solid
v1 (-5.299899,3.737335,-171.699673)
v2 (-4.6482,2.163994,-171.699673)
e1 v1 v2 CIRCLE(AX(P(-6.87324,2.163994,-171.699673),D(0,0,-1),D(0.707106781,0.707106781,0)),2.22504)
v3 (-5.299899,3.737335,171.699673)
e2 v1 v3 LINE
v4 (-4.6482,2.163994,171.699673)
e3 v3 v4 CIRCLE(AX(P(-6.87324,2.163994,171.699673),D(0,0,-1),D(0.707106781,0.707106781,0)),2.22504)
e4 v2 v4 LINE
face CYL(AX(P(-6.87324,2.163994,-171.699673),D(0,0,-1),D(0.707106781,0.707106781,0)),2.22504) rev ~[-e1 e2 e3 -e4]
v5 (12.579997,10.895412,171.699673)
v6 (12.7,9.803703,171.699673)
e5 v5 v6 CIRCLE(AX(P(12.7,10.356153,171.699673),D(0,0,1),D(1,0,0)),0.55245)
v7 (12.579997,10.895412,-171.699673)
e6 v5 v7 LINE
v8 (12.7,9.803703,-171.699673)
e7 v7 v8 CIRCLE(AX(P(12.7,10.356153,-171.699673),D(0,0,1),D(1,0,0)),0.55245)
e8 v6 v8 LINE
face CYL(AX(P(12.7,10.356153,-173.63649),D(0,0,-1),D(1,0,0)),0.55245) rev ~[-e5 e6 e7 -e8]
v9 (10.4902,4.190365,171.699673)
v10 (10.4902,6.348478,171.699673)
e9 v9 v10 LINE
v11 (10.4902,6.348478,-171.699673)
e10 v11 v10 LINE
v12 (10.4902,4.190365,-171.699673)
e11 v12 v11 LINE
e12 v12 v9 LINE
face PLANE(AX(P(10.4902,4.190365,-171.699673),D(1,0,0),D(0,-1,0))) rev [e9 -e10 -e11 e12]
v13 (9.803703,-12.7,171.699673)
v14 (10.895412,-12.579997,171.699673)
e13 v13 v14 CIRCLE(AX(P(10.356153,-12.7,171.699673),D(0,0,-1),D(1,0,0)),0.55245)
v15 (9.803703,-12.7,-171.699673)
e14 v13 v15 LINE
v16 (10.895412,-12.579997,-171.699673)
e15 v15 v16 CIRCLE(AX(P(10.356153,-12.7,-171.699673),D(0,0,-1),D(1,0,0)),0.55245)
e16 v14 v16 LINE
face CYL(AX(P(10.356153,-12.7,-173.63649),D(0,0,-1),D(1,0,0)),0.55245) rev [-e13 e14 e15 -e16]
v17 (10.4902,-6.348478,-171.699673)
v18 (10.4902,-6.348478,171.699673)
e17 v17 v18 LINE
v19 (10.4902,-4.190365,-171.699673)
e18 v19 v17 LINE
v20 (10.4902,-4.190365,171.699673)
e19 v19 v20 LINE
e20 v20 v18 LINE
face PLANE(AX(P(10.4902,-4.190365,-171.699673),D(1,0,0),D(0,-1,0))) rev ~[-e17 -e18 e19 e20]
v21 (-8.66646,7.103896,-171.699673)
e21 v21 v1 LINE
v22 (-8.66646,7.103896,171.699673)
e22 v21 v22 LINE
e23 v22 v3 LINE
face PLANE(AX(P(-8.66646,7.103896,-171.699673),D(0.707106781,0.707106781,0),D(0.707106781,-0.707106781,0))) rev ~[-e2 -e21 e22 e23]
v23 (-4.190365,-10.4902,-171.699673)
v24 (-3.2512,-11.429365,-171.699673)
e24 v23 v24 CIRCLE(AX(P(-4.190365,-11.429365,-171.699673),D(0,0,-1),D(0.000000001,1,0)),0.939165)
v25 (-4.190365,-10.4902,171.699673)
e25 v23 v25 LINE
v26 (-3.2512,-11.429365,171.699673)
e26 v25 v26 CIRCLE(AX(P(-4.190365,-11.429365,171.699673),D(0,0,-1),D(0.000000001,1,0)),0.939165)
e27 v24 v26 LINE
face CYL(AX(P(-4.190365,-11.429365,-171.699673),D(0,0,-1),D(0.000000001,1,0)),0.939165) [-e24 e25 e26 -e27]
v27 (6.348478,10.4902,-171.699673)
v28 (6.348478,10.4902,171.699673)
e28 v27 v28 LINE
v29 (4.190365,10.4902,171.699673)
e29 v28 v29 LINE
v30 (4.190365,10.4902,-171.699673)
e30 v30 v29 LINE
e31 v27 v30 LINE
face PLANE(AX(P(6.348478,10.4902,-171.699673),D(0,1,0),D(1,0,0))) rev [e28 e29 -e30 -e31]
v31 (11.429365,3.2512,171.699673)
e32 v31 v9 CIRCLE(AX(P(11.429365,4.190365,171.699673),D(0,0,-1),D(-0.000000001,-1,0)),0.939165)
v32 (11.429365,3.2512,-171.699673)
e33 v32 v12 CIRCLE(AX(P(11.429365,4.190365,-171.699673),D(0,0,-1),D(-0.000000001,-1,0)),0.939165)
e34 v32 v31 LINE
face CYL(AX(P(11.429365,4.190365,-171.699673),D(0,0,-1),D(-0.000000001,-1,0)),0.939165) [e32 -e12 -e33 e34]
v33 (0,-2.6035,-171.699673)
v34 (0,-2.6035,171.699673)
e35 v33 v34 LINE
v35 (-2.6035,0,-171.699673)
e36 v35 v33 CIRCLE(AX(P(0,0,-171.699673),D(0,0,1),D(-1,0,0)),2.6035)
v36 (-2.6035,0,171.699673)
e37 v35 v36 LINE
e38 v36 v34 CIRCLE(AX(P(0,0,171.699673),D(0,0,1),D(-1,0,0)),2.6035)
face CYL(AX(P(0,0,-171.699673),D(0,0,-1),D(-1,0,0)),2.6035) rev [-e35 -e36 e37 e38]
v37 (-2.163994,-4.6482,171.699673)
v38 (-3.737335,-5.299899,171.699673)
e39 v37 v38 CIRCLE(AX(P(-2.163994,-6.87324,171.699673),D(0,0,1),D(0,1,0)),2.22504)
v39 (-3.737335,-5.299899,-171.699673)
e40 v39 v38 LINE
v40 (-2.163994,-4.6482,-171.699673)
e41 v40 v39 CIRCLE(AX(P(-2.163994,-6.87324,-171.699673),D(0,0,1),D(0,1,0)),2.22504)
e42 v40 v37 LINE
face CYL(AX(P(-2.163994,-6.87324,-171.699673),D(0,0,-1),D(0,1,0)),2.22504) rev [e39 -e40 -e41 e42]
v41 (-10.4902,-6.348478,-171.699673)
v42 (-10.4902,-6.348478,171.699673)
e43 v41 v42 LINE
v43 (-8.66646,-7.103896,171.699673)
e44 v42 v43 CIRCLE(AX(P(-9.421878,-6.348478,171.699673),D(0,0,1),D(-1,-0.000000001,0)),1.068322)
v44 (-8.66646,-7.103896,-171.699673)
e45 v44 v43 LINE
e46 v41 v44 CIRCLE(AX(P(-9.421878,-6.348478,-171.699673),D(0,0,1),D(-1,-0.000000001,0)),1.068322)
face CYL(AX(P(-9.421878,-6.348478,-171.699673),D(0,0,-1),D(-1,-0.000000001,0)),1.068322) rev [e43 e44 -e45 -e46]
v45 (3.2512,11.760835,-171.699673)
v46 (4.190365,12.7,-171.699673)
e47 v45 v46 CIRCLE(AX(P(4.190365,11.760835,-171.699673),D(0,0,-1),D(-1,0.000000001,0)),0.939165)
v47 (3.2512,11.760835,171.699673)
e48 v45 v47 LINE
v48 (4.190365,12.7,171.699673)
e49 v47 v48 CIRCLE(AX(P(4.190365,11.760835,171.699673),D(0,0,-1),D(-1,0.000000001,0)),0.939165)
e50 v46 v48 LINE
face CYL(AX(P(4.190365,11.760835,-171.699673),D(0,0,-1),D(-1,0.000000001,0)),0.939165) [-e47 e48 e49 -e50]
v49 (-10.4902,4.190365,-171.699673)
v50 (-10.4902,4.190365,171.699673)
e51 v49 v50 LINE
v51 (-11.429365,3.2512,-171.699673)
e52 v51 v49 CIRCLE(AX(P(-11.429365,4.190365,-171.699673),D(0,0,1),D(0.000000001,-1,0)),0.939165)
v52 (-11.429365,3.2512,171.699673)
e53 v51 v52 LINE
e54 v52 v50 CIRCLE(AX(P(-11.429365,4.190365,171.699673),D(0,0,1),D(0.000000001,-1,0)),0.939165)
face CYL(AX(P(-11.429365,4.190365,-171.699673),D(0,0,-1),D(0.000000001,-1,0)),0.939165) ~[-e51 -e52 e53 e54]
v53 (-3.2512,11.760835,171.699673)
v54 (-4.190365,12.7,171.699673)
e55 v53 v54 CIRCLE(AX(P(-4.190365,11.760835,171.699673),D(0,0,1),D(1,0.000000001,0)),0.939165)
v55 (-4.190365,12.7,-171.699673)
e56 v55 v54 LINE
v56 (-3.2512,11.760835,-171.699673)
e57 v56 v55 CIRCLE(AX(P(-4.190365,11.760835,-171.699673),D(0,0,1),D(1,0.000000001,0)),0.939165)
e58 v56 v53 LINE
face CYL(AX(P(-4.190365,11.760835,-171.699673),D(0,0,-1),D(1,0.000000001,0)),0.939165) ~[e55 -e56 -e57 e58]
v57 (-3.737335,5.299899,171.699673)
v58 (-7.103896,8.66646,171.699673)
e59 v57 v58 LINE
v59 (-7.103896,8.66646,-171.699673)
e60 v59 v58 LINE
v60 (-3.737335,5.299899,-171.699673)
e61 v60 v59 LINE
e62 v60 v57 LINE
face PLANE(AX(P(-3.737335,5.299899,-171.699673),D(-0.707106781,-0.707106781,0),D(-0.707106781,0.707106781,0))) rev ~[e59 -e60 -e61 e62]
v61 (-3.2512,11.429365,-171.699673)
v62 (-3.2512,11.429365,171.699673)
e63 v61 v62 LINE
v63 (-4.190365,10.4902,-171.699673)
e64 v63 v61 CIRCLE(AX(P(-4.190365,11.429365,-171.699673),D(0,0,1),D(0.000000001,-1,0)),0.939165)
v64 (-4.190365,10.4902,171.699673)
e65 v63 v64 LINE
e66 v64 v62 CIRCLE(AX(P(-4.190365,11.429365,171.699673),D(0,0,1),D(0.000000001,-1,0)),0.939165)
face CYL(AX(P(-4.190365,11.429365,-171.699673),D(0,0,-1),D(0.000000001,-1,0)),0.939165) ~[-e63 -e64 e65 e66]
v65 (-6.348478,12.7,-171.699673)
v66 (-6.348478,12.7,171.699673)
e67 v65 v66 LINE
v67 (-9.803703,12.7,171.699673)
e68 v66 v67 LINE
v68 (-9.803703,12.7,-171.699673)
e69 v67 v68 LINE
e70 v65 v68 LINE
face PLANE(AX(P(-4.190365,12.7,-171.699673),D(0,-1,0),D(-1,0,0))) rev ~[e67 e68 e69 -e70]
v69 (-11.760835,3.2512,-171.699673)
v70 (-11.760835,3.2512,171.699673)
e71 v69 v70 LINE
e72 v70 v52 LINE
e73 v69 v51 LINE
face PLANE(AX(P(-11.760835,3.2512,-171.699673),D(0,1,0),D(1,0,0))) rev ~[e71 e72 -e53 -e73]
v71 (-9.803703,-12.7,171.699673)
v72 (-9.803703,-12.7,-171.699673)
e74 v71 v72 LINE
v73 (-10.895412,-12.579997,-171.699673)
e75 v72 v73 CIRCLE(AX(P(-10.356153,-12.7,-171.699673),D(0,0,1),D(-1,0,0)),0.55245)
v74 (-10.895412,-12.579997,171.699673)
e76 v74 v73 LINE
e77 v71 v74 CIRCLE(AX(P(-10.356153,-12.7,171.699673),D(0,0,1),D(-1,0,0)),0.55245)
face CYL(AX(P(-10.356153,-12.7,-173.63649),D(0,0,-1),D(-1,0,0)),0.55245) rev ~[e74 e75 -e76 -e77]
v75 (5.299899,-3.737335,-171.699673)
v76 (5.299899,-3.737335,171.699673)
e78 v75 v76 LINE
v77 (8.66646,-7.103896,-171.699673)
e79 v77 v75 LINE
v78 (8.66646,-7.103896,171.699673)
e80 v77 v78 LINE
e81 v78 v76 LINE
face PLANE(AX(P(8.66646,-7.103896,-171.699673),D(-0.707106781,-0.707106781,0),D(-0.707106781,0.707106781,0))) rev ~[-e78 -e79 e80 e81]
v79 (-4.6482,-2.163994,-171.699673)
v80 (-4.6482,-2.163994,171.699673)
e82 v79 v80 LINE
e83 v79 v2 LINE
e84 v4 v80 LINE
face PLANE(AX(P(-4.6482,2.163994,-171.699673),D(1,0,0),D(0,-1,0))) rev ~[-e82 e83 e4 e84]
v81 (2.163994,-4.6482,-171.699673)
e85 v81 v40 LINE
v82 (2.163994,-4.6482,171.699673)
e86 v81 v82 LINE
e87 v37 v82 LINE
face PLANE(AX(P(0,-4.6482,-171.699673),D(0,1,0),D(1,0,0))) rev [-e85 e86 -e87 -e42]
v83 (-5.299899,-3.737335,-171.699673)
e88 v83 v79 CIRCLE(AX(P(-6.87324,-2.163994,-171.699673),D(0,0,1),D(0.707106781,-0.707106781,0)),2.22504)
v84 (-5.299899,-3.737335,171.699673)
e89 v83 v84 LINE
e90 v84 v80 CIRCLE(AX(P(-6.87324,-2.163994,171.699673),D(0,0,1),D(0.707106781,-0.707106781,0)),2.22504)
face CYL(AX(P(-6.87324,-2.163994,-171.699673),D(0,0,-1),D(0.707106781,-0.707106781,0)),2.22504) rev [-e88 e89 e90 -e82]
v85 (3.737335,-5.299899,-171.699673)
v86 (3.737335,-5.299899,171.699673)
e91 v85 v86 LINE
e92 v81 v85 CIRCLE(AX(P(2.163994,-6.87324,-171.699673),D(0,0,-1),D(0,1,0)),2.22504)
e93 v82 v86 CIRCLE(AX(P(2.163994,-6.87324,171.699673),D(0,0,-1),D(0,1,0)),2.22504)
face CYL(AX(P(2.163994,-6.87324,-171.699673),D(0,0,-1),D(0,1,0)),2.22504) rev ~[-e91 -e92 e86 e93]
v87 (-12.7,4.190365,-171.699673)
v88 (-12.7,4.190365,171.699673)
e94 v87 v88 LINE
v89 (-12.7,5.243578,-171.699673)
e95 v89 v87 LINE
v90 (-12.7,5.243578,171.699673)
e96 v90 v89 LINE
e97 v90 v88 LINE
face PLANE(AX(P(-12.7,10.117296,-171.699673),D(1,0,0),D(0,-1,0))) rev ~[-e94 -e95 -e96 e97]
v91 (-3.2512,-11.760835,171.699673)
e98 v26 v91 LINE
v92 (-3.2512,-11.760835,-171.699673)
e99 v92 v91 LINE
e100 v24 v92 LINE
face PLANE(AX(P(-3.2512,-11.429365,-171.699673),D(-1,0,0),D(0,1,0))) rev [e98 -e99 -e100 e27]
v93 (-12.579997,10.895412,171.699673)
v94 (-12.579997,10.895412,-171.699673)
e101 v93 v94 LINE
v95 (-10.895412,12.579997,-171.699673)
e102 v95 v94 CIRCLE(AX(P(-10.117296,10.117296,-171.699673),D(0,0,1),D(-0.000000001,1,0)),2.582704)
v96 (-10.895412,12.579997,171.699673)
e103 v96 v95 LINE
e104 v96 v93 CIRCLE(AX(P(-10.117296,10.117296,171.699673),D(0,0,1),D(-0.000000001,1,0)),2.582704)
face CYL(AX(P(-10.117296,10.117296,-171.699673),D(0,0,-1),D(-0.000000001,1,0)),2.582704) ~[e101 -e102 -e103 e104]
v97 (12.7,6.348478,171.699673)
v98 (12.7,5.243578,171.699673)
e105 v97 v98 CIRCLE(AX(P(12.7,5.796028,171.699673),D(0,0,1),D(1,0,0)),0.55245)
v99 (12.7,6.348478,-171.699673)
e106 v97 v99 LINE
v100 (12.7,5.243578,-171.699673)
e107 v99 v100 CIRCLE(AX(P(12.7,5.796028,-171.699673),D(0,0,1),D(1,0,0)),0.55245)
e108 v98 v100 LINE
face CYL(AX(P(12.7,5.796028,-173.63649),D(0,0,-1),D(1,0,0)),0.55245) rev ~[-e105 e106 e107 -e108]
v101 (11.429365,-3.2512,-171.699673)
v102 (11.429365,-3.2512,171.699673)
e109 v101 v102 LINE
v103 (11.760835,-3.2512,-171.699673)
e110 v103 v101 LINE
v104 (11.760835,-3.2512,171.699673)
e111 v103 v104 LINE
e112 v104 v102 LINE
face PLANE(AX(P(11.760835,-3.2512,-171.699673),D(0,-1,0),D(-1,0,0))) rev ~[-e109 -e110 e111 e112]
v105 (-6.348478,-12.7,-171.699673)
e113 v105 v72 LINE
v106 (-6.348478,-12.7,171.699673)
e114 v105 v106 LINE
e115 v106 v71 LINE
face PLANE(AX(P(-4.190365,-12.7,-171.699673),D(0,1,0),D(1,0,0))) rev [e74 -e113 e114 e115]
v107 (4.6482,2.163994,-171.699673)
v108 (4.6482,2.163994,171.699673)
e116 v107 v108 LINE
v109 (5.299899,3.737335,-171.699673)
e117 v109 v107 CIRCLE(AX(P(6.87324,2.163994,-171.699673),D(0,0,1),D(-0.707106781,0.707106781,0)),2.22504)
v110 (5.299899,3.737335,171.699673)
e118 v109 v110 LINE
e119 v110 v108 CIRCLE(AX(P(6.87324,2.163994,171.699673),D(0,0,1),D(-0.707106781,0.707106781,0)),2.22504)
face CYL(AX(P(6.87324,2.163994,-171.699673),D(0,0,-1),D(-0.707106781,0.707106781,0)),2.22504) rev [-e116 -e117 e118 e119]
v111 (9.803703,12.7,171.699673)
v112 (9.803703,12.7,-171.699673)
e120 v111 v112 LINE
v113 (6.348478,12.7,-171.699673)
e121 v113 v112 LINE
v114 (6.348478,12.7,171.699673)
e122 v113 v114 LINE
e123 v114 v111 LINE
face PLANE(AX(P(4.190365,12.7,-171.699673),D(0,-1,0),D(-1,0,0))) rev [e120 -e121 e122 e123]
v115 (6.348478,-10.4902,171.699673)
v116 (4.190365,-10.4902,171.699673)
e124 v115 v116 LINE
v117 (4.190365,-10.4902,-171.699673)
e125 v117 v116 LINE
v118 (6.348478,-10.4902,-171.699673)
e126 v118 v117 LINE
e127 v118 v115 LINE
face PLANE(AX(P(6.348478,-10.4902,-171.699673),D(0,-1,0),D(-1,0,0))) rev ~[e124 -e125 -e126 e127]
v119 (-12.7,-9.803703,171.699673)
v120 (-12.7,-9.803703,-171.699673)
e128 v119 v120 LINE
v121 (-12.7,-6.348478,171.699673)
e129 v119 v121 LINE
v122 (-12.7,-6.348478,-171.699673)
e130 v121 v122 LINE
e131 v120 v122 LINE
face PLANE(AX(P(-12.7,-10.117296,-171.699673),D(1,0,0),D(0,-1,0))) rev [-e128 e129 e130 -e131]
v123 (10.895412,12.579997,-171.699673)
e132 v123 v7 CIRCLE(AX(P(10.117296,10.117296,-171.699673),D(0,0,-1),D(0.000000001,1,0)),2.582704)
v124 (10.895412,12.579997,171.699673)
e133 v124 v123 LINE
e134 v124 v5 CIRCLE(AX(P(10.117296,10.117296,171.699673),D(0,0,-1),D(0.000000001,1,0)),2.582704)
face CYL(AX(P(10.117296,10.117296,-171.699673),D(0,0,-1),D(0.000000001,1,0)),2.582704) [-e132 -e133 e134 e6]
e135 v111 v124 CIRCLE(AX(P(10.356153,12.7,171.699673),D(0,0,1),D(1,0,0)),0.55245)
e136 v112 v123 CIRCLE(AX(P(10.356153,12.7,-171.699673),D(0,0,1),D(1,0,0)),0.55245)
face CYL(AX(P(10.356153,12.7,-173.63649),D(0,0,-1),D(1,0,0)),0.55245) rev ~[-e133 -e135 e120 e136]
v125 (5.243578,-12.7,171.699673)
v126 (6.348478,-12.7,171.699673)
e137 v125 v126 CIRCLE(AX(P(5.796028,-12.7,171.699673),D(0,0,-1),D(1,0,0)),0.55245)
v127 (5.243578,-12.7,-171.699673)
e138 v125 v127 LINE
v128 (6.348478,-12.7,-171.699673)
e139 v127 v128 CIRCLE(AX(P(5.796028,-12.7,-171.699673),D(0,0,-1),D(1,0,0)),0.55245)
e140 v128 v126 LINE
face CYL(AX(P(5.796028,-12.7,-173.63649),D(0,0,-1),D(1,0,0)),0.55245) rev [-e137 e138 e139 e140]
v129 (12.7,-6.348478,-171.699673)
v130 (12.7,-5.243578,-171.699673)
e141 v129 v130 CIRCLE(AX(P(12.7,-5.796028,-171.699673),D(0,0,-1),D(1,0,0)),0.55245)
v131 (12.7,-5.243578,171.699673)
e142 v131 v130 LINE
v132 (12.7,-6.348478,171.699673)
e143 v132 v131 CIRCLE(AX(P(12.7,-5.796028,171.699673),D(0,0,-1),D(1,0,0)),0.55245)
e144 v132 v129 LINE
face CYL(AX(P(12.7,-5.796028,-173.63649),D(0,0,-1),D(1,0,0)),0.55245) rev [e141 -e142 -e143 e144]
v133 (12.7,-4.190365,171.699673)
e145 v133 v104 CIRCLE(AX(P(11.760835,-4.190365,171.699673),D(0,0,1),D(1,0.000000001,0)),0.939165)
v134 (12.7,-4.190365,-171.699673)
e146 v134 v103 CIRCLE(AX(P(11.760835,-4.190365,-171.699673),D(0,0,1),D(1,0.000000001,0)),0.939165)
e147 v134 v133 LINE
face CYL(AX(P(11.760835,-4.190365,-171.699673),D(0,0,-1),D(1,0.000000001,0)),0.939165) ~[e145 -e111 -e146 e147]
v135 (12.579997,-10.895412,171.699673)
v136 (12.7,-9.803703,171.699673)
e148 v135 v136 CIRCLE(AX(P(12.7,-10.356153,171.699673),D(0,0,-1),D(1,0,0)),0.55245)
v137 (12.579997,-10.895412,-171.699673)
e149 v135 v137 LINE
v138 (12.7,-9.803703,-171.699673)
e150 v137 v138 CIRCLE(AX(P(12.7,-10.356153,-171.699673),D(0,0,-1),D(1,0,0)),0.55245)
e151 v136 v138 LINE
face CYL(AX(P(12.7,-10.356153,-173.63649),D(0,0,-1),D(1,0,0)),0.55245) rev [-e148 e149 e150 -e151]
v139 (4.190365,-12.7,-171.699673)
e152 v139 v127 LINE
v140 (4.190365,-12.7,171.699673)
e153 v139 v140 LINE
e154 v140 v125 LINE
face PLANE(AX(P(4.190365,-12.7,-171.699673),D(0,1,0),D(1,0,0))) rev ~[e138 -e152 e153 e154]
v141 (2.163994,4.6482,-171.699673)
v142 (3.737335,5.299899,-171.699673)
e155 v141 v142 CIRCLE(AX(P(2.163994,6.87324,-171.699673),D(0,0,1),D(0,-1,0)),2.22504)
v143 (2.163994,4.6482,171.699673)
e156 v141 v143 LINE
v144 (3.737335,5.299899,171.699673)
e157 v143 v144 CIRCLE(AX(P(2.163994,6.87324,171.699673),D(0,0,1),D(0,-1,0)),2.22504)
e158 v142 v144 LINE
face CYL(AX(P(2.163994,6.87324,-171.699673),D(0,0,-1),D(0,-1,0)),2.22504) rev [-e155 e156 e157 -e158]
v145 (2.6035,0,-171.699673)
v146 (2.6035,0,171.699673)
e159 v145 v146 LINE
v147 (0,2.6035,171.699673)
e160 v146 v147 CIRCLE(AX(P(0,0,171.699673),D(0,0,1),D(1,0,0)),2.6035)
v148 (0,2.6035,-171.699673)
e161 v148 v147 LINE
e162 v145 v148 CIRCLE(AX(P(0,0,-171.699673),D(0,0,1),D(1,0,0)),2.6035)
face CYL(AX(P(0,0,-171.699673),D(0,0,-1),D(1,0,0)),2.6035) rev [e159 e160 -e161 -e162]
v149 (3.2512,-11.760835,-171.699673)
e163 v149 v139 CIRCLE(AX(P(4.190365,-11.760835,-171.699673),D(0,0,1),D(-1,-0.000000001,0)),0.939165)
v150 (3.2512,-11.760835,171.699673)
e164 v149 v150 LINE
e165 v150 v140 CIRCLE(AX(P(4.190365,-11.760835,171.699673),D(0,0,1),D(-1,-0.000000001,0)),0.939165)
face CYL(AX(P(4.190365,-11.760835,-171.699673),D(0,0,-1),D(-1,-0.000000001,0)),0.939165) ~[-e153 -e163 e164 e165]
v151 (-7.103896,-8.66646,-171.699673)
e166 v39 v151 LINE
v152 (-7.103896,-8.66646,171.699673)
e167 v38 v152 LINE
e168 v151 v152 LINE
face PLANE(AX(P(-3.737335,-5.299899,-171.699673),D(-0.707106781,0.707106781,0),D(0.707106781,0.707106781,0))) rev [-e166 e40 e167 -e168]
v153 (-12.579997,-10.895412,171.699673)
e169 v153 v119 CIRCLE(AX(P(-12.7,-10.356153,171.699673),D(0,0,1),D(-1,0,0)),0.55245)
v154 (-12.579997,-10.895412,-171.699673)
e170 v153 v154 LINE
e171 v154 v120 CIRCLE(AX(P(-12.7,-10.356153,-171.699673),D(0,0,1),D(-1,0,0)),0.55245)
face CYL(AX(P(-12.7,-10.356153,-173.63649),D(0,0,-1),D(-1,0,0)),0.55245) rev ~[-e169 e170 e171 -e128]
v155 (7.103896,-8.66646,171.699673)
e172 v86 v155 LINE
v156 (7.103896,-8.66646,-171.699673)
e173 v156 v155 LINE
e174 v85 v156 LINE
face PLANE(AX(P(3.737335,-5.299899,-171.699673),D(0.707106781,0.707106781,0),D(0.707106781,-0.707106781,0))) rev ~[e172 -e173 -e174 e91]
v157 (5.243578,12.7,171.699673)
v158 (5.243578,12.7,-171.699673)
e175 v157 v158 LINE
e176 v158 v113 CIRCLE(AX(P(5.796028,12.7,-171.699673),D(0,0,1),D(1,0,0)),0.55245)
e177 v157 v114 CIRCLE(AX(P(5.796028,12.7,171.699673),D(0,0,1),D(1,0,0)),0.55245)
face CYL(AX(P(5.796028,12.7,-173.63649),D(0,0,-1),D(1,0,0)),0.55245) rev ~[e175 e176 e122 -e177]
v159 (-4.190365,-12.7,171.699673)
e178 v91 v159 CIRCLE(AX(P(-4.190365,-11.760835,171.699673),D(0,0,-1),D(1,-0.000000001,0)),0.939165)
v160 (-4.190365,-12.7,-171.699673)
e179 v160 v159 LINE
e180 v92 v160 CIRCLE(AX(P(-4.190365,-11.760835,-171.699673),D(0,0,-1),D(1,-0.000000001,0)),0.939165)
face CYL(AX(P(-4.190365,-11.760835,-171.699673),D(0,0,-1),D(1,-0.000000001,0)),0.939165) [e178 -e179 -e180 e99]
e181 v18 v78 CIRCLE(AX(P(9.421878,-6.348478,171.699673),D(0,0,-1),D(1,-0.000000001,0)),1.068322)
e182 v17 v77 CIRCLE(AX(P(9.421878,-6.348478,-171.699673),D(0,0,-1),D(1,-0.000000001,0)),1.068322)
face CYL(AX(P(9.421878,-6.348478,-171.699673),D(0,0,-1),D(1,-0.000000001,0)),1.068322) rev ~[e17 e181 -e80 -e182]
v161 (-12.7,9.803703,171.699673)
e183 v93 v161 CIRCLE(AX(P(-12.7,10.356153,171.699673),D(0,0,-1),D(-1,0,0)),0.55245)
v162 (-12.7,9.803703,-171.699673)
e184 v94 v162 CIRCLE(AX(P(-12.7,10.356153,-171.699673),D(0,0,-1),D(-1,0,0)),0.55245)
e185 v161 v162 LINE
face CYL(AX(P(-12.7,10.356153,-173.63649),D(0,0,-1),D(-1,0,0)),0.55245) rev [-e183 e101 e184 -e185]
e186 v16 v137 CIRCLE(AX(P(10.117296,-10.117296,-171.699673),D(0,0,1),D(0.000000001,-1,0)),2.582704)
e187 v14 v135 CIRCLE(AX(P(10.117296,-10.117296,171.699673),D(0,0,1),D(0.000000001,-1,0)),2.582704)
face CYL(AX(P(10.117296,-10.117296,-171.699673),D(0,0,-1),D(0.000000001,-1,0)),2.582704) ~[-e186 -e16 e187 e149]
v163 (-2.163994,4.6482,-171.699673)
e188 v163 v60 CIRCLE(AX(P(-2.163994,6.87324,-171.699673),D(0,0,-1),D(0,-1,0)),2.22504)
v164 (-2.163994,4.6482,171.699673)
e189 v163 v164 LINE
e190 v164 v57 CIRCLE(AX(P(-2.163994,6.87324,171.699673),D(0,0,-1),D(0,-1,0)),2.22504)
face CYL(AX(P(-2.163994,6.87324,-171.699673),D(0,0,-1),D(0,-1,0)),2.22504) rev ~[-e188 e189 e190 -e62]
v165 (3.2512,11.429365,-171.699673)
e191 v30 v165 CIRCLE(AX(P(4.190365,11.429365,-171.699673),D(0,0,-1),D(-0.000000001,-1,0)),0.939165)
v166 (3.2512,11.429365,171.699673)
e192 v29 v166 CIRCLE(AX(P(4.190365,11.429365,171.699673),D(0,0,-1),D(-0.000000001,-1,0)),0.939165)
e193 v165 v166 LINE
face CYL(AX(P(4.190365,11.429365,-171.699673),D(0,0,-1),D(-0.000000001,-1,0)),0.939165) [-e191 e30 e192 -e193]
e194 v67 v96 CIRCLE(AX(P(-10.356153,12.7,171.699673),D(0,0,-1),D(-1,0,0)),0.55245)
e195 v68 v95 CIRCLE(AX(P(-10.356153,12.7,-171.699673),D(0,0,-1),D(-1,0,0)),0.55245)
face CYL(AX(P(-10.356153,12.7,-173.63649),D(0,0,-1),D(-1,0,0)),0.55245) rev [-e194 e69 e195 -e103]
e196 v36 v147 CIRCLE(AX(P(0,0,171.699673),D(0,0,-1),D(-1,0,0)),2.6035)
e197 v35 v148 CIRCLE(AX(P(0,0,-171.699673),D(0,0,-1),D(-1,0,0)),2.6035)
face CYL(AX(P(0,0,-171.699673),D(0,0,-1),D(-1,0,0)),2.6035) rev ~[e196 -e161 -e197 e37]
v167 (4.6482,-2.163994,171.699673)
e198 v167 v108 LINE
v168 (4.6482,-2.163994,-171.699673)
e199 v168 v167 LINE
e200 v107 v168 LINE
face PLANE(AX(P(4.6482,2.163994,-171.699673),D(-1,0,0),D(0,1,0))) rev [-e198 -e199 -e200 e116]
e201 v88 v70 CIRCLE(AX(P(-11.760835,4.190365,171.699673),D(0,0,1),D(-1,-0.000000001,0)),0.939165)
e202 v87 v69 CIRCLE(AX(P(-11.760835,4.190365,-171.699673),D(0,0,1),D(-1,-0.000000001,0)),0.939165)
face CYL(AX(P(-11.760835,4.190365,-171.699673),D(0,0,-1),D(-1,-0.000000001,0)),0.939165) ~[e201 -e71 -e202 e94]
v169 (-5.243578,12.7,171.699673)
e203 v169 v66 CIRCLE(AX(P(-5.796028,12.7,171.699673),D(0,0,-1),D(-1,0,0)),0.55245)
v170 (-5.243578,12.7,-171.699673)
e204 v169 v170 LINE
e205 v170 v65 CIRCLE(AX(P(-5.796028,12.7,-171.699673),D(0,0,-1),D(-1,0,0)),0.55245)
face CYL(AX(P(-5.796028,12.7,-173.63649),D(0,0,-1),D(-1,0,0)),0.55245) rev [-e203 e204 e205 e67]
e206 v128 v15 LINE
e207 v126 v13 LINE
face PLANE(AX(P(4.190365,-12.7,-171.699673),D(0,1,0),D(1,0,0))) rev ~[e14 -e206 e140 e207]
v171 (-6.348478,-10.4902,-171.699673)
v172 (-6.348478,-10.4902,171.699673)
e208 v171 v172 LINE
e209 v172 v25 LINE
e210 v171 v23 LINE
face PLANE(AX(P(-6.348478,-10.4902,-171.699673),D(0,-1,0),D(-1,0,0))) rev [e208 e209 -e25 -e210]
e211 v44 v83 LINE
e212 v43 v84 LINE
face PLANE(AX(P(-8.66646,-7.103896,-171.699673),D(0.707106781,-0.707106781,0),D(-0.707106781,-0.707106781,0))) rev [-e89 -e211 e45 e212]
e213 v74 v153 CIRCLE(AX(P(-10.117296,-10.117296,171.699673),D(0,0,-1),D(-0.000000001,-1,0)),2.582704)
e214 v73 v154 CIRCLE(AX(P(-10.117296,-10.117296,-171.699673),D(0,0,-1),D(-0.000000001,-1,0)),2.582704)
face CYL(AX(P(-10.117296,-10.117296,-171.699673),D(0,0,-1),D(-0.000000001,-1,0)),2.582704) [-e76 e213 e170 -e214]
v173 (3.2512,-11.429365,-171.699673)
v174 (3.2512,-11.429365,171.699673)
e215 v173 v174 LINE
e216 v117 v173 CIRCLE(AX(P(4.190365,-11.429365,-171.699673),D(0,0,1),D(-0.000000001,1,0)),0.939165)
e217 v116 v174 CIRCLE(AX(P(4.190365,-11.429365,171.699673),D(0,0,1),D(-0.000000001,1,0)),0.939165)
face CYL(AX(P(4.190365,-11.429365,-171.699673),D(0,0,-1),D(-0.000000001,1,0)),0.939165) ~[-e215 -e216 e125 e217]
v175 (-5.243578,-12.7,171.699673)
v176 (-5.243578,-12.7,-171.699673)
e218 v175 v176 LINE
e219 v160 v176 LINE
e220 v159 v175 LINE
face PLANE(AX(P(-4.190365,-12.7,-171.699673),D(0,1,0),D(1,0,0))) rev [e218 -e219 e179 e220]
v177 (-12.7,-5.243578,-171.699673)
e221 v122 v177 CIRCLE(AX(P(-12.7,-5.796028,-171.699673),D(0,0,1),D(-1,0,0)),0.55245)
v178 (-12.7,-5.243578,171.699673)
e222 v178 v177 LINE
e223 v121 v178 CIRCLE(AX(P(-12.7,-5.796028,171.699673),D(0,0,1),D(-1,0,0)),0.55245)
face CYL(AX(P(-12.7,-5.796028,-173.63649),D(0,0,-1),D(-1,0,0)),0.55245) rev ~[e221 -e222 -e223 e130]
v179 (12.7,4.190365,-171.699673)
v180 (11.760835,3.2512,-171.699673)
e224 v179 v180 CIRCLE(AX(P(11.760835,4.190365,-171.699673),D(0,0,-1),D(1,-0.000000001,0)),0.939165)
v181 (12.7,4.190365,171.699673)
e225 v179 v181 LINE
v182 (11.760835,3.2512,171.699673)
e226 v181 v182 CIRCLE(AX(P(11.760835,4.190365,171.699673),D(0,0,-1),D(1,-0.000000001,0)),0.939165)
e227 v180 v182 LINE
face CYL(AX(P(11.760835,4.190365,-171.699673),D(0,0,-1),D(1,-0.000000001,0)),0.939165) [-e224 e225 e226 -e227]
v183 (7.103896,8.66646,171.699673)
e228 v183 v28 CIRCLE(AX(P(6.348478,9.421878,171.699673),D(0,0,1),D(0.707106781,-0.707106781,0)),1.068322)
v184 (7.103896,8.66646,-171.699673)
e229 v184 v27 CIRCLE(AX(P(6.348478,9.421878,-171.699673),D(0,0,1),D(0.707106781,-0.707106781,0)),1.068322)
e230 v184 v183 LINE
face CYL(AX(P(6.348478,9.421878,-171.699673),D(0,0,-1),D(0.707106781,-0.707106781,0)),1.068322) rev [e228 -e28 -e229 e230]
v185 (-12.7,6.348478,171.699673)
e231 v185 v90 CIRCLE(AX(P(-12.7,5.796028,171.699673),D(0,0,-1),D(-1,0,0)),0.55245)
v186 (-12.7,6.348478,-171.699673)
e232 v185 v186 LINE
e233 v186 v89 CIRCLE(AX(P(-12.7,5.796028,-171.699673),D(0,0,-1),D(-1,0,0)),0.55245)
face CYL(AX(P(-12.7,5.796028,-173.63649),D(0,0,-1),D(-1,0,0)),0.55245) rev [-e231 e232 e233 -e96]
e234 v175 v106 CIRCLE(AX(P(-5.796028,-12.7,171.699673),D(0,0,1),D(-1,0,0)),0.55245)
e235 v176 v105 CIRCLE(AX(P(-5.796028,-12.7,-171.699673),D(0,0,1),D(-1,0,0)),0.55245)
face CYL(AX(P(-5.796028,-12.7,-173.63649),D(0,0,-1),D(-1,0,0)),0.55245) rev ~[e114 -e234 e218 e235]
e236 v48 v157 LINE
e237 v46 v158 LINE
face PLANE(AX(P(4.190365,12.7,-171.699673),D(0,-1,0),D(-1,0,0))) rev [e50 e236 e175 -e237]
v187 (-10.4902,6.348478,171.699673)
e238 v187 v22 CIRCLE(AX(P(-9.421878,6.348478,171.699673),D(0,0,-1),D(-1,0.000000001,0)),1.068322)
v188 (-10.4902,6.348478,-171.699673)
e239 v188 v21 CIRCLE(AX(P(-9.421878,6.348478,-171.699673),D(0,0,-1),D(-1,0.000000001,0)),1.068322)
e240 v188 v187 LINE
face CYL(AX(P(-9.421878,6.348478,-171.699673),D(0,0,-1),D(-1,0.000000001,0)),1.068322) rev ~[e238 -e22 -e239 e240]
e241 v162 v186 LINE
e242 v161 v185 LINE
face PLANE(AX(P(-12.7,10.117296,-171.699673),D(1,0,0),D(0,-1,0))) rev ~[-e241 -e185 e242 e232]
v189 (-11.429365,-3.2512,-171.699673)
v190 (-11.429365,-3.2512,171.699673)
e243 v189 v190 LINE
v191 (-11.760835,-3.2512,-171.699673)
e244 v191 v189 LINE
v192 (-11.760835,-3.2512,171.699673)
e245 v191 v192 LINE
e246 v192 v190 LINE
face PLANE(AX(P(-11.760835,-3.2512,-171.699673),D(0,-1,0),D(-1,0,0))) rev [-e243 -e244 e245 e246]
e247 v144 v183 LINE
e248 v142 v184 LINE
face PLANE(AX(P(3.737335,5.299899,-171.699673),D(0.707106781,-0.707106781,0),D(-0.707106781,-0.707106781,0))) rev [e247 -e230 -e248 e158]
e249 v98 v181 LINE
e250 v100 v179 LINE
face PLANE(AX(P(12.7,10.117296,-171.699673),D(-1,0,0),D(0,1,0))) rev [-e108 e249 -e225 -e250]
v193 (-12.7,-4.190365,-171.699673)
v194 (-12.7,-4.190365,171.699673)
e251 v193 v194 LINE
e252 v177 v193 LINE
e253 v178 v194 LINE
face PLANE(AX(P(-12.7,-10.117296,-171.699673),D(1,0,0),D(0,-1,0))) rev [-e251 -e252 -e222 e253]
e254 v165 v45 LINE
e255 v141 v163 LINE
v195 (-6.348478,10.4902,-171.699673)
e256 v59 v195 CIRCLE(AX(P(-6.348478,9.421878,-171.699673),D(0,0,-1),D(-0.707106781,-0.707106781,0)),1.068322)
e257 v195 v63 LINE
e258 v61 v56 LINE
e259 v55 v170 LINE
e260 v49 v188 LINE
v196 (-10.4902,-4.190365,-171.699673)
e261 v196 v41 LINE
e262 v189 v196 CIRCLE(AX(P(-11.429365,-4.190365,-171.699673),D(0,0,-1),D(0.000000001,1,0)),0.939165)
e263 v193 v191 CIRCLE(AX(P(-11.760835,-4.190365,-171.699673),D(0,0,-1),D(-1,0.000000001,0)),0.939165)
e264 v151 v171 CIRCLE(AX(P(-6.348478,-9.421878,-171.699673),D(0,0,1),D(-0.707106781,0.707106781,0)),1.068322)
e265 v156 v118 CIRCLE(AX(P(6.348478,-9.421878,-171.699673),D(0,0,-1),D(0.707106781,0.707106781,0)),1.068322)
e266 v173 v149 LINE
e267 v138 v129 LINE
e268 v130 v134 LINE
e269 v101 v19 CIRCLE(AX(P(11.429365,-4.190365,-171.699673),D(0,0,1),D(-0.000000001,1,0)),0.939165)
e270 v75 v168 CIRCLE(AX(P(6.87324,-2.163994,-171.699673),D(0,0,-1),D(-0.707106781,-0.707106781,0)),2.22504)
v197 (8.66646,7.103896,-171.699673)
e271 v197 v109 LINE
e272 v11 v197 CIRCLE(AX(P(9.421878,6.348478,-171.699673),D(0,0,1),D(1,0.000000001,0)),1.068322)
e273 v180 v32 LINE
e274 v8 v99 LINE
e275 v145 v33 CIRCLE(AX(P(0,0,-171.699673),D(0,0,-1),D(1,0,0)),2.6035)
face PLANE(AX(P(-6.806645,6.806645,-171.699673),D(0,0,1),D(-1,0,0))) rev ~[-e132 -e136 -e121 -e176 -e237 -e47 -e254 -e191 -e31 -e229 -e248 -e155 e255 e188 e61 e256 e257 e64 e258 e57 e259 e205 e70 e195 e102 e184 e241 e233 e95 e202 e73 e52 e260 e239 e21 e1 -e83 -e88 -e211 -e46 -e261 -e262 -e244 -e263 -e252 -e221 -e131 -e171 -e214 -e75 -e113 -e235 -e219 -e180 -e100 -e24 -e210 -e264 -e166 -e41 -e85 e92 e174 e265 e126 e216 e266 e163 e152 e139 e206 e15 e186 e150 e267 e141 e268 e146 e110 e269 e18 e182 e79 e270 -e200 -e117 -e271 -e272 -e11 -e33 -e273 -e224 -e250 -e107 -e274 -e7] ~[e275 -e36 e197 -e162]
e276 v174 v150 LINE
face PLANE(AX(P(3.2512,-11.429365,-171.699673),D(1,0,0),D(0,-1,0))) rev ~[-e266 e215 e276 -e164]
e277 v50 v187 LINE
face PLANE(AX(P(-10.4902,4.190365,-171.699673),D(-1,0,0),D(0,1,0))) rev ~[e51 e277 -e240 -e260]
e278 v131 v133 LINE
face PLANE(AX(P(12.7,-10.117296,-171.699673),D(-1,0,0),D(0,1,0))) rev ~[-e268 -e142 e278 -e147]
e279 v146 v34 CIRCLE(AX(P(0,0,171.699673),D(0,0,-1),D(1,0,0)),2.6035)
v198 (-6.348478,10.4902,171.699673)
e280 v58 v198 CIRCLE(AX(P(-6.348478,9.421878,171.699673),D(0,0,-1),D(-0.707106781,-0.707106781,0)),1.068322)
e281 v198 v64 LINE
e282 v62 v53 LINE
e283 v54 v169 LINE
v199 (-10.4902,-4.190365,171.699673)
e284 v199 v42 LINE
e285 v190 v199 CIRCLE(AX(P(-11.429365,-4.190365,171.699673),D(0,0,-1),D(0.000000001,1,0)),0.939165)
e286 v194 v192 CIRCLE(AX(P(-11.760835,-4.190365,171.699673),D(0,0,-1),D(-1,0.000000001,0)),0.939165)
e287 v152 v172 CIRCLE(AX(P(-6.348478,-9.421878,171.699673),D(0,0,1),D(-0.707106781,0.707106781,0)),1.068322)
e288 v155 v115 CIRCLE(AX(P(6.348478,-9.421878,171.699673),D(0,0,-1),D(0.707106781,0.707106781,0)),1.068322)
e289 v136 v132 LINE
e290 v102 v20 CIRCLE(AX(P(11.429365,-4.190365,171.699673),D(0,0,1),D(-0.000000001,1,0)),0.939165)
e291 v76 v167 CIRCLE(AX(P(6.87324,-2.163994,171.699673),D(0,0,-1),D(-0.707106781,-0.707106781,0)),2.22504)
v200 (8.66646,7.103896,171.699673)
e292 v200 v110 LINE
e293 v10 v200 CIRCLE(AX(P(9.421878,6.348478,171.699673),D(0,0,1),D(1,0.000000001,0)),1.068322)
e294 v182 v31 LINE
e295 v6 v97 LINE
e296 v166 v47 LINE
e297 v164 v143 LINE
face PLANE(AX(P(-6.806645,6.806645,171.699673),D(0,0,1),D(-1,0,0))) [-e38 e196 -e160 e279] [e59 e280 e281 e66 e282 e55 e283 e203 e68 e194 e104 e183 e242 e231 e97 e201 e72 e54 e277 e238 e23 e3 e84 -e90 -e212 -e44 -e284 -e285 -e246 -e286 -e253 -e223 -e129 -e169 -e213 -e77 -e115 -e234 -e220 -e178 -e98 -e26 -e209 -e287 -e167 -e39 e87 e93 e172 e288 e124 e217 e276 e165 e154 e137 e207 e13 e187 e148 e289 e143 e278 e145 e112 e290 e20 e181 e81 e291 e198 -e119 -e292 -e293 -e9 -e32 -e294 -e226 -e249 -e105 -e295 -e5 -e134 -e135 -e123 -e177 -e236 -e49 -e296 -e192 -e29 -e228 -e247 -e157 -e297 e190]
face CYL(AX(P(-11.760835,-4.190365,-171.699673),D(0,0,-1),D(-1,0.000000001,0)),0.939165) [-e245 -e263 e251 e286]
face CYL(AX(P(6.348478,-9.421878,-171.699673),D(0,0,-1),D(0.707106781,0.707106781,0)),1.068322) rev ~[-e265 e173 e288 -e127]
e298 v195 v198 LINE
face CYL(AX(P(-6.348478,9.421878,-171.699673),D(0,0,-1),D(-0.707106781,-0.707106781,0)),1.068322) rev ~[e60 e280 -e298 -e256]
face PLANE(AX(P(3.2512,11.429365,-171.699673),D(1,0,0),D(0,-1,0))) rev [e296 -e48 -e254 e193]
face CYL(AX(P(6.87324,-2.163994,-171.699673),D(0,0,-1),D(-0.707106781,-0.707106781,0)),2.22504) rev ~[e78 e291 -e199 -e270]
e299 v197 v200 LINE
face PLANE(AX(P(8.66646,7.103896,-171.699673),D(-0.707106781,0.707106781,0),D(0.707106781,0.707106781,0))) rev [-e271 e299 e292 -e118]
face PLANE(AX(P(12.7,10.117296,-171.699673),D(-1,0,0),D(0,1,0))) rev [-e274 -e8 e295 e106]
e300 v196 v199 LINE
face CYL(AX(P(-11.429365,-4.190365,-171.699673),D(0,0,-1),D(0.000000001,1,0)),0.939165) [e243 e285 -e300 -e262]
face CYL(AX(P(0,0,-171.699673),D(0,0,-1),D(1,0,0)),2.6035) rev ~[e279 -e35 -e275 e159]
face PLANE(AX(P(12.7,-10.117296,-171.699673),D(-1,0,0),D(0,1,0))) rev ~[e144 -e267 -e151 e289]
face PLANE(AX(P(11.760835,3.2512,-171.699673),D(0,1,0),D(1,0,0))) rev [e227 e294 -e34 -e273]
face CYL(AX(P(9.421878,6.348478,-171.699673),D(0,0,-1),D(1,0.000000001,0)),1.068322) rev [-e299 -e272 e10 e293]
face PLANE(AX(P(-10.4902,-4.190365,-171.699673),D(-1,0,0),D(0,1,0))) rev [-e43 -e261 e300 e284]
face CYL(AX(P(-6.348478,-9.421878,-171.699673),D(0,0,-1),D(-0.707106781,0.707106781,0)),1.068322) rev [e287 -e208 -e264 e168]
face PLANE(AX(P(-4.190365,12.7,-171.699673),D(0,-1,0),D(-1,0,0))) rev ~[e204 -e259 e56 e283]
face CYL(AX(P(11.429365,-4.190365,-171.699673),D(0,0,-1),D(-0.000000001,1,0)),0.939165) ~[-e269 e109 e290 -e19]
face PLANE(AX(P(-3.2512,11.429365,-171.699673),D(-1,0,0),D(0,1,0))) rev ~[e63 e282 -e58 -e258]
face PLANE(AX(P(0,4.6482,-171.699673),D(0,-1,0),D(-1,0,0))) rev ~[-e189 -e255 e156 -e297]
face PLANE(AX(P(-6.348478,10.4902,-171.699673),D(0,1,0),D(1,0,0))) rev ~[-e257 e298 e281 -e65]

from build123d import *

# Parameters (mm, degrees)
BOSS_EXTRUDE1_START     = -171.699673
BOSS_EXTRUDE1_DEPTH     = 343.399346
CUT_EXTRUDE1_DEPTH      = 173.636490083
CUT_EXTRUDE1_DEPTH_BACK = 173.636490083
SKETCH5_R               = 0.55245


with BuildPart() as part:
    # Sketch4 → Boss-Extrude1 (new body)
    with BuildSketch(Plane.XY.offset(BOSS_EXTRUDE1_START)):
        with BuildLine():
            Line((4.190365, -12.7), (10.11729625, -12.7))
            ThreePointArc((10.11729625, -12.7), (11.943543585, -11.943543585), (12.7, -10.11729625))
            Line((12.7, -10.11729625), (12.7, -4.190365))
            ThreePointArc((12.7, -4.190365), (12.42492494, -3.52627506), (11.760835, -3.2512))
            Line((11.760835, -3.2512), (11.429365, -3.2512))
            ThreePointArc((11.429365, -3.2512), (10.76527506, -3.52627506), (10.4902, -4.190365))
            Line((10.4902, -4.190365), (10.4902, -6.348478019))
            ThreePointArc((10.4902, -6.348478019), (9.830707141, -7.335478831), (8.666460301, -7.103895736))
            Line((8.666460301, -7.103895736), (5.299899128, -3.737334563))
            ThreePointArc((5.299899128, -3.737334563), (4.817571085, -3.015479634), (4.6482, -2.16399369))
            Line((4.6482, -2.16399369), (4.6482, 0))
            Line((4.6482, 0), (2.6035, 0))
            ThreePointArc((2.6035, 0), (1.840952505, -1.840952505), (0, -2.6035))
            Line((0, -2.6035), (0, -4.6482))
            Line((0, -4.6482), (2.16399369, -4.6482))
            ThreePointArc((2.16399369, -4.6482), (3.015479634, -4.817571085), (3.737334563, -5.299899128))
            Line((3.737334563, -5.299899128), (7.103895736, -8.666460301))
            ThreePointArc((7.103895736, -8.666460301), (7.335478831, -9.830707141), (6.348478019, -10.4902))
            Line((6.348478019, -10.4902), (4.190365, -10.4902))
            ThreePointArc((4.190365, -10.4902), (3.52627506, -10.76527506), (3.2512, -11.429365))
            Line((3.2512, -11.429365), (3.2512, -11.760835))
            ThreePointArc((3.2512, -11.760835), (3.52627506, -12.42492494), (4.190365, -12.7))
        make_face()
    extrude(amount=BOSS_EXTRUDE1_DEPTH)

    # Sketch5 → Cut-Extrude1 (cut, two sides: drawn at the far end of the back side and taken through both)
    with BuildSketch(Plane.XY.offset(-CUT_EXTRUDE1_DEPTH_BACK)):
        with Locations((10.356153152, -12.7)):
            Circle(SKETCH5_R)
        with Locations((5.796028019, -12.7)):
            Circle(SKETCH5_R)
        with Locations((12.7, -10.356153152)):
            Circle(SKETCH5_R)
        with Locations((12.7, -5.796028019)):
            Circle(SKETCH5_R)
    extrude(amount=CUT_EXTRUDE1_DEPTH + CUT_EXTRUDE1_DEPTH_BACK, mode=Mode.SUBTRACT)

    # Mirror1: part across plane


with BuildPart() as part_1:
    add(part.part)
    add(part.part.mirror(Plane(origin=(0, 0, 0), x_dir=(0, 0, 1), z_dir=(1, 0, 0))))

    # Mirror2: part across plane


with BuildPart() as part_2:
    add(part_1.part)
    add(part_1.part.mirror(Plane.ZX))


solid = part_2.part
